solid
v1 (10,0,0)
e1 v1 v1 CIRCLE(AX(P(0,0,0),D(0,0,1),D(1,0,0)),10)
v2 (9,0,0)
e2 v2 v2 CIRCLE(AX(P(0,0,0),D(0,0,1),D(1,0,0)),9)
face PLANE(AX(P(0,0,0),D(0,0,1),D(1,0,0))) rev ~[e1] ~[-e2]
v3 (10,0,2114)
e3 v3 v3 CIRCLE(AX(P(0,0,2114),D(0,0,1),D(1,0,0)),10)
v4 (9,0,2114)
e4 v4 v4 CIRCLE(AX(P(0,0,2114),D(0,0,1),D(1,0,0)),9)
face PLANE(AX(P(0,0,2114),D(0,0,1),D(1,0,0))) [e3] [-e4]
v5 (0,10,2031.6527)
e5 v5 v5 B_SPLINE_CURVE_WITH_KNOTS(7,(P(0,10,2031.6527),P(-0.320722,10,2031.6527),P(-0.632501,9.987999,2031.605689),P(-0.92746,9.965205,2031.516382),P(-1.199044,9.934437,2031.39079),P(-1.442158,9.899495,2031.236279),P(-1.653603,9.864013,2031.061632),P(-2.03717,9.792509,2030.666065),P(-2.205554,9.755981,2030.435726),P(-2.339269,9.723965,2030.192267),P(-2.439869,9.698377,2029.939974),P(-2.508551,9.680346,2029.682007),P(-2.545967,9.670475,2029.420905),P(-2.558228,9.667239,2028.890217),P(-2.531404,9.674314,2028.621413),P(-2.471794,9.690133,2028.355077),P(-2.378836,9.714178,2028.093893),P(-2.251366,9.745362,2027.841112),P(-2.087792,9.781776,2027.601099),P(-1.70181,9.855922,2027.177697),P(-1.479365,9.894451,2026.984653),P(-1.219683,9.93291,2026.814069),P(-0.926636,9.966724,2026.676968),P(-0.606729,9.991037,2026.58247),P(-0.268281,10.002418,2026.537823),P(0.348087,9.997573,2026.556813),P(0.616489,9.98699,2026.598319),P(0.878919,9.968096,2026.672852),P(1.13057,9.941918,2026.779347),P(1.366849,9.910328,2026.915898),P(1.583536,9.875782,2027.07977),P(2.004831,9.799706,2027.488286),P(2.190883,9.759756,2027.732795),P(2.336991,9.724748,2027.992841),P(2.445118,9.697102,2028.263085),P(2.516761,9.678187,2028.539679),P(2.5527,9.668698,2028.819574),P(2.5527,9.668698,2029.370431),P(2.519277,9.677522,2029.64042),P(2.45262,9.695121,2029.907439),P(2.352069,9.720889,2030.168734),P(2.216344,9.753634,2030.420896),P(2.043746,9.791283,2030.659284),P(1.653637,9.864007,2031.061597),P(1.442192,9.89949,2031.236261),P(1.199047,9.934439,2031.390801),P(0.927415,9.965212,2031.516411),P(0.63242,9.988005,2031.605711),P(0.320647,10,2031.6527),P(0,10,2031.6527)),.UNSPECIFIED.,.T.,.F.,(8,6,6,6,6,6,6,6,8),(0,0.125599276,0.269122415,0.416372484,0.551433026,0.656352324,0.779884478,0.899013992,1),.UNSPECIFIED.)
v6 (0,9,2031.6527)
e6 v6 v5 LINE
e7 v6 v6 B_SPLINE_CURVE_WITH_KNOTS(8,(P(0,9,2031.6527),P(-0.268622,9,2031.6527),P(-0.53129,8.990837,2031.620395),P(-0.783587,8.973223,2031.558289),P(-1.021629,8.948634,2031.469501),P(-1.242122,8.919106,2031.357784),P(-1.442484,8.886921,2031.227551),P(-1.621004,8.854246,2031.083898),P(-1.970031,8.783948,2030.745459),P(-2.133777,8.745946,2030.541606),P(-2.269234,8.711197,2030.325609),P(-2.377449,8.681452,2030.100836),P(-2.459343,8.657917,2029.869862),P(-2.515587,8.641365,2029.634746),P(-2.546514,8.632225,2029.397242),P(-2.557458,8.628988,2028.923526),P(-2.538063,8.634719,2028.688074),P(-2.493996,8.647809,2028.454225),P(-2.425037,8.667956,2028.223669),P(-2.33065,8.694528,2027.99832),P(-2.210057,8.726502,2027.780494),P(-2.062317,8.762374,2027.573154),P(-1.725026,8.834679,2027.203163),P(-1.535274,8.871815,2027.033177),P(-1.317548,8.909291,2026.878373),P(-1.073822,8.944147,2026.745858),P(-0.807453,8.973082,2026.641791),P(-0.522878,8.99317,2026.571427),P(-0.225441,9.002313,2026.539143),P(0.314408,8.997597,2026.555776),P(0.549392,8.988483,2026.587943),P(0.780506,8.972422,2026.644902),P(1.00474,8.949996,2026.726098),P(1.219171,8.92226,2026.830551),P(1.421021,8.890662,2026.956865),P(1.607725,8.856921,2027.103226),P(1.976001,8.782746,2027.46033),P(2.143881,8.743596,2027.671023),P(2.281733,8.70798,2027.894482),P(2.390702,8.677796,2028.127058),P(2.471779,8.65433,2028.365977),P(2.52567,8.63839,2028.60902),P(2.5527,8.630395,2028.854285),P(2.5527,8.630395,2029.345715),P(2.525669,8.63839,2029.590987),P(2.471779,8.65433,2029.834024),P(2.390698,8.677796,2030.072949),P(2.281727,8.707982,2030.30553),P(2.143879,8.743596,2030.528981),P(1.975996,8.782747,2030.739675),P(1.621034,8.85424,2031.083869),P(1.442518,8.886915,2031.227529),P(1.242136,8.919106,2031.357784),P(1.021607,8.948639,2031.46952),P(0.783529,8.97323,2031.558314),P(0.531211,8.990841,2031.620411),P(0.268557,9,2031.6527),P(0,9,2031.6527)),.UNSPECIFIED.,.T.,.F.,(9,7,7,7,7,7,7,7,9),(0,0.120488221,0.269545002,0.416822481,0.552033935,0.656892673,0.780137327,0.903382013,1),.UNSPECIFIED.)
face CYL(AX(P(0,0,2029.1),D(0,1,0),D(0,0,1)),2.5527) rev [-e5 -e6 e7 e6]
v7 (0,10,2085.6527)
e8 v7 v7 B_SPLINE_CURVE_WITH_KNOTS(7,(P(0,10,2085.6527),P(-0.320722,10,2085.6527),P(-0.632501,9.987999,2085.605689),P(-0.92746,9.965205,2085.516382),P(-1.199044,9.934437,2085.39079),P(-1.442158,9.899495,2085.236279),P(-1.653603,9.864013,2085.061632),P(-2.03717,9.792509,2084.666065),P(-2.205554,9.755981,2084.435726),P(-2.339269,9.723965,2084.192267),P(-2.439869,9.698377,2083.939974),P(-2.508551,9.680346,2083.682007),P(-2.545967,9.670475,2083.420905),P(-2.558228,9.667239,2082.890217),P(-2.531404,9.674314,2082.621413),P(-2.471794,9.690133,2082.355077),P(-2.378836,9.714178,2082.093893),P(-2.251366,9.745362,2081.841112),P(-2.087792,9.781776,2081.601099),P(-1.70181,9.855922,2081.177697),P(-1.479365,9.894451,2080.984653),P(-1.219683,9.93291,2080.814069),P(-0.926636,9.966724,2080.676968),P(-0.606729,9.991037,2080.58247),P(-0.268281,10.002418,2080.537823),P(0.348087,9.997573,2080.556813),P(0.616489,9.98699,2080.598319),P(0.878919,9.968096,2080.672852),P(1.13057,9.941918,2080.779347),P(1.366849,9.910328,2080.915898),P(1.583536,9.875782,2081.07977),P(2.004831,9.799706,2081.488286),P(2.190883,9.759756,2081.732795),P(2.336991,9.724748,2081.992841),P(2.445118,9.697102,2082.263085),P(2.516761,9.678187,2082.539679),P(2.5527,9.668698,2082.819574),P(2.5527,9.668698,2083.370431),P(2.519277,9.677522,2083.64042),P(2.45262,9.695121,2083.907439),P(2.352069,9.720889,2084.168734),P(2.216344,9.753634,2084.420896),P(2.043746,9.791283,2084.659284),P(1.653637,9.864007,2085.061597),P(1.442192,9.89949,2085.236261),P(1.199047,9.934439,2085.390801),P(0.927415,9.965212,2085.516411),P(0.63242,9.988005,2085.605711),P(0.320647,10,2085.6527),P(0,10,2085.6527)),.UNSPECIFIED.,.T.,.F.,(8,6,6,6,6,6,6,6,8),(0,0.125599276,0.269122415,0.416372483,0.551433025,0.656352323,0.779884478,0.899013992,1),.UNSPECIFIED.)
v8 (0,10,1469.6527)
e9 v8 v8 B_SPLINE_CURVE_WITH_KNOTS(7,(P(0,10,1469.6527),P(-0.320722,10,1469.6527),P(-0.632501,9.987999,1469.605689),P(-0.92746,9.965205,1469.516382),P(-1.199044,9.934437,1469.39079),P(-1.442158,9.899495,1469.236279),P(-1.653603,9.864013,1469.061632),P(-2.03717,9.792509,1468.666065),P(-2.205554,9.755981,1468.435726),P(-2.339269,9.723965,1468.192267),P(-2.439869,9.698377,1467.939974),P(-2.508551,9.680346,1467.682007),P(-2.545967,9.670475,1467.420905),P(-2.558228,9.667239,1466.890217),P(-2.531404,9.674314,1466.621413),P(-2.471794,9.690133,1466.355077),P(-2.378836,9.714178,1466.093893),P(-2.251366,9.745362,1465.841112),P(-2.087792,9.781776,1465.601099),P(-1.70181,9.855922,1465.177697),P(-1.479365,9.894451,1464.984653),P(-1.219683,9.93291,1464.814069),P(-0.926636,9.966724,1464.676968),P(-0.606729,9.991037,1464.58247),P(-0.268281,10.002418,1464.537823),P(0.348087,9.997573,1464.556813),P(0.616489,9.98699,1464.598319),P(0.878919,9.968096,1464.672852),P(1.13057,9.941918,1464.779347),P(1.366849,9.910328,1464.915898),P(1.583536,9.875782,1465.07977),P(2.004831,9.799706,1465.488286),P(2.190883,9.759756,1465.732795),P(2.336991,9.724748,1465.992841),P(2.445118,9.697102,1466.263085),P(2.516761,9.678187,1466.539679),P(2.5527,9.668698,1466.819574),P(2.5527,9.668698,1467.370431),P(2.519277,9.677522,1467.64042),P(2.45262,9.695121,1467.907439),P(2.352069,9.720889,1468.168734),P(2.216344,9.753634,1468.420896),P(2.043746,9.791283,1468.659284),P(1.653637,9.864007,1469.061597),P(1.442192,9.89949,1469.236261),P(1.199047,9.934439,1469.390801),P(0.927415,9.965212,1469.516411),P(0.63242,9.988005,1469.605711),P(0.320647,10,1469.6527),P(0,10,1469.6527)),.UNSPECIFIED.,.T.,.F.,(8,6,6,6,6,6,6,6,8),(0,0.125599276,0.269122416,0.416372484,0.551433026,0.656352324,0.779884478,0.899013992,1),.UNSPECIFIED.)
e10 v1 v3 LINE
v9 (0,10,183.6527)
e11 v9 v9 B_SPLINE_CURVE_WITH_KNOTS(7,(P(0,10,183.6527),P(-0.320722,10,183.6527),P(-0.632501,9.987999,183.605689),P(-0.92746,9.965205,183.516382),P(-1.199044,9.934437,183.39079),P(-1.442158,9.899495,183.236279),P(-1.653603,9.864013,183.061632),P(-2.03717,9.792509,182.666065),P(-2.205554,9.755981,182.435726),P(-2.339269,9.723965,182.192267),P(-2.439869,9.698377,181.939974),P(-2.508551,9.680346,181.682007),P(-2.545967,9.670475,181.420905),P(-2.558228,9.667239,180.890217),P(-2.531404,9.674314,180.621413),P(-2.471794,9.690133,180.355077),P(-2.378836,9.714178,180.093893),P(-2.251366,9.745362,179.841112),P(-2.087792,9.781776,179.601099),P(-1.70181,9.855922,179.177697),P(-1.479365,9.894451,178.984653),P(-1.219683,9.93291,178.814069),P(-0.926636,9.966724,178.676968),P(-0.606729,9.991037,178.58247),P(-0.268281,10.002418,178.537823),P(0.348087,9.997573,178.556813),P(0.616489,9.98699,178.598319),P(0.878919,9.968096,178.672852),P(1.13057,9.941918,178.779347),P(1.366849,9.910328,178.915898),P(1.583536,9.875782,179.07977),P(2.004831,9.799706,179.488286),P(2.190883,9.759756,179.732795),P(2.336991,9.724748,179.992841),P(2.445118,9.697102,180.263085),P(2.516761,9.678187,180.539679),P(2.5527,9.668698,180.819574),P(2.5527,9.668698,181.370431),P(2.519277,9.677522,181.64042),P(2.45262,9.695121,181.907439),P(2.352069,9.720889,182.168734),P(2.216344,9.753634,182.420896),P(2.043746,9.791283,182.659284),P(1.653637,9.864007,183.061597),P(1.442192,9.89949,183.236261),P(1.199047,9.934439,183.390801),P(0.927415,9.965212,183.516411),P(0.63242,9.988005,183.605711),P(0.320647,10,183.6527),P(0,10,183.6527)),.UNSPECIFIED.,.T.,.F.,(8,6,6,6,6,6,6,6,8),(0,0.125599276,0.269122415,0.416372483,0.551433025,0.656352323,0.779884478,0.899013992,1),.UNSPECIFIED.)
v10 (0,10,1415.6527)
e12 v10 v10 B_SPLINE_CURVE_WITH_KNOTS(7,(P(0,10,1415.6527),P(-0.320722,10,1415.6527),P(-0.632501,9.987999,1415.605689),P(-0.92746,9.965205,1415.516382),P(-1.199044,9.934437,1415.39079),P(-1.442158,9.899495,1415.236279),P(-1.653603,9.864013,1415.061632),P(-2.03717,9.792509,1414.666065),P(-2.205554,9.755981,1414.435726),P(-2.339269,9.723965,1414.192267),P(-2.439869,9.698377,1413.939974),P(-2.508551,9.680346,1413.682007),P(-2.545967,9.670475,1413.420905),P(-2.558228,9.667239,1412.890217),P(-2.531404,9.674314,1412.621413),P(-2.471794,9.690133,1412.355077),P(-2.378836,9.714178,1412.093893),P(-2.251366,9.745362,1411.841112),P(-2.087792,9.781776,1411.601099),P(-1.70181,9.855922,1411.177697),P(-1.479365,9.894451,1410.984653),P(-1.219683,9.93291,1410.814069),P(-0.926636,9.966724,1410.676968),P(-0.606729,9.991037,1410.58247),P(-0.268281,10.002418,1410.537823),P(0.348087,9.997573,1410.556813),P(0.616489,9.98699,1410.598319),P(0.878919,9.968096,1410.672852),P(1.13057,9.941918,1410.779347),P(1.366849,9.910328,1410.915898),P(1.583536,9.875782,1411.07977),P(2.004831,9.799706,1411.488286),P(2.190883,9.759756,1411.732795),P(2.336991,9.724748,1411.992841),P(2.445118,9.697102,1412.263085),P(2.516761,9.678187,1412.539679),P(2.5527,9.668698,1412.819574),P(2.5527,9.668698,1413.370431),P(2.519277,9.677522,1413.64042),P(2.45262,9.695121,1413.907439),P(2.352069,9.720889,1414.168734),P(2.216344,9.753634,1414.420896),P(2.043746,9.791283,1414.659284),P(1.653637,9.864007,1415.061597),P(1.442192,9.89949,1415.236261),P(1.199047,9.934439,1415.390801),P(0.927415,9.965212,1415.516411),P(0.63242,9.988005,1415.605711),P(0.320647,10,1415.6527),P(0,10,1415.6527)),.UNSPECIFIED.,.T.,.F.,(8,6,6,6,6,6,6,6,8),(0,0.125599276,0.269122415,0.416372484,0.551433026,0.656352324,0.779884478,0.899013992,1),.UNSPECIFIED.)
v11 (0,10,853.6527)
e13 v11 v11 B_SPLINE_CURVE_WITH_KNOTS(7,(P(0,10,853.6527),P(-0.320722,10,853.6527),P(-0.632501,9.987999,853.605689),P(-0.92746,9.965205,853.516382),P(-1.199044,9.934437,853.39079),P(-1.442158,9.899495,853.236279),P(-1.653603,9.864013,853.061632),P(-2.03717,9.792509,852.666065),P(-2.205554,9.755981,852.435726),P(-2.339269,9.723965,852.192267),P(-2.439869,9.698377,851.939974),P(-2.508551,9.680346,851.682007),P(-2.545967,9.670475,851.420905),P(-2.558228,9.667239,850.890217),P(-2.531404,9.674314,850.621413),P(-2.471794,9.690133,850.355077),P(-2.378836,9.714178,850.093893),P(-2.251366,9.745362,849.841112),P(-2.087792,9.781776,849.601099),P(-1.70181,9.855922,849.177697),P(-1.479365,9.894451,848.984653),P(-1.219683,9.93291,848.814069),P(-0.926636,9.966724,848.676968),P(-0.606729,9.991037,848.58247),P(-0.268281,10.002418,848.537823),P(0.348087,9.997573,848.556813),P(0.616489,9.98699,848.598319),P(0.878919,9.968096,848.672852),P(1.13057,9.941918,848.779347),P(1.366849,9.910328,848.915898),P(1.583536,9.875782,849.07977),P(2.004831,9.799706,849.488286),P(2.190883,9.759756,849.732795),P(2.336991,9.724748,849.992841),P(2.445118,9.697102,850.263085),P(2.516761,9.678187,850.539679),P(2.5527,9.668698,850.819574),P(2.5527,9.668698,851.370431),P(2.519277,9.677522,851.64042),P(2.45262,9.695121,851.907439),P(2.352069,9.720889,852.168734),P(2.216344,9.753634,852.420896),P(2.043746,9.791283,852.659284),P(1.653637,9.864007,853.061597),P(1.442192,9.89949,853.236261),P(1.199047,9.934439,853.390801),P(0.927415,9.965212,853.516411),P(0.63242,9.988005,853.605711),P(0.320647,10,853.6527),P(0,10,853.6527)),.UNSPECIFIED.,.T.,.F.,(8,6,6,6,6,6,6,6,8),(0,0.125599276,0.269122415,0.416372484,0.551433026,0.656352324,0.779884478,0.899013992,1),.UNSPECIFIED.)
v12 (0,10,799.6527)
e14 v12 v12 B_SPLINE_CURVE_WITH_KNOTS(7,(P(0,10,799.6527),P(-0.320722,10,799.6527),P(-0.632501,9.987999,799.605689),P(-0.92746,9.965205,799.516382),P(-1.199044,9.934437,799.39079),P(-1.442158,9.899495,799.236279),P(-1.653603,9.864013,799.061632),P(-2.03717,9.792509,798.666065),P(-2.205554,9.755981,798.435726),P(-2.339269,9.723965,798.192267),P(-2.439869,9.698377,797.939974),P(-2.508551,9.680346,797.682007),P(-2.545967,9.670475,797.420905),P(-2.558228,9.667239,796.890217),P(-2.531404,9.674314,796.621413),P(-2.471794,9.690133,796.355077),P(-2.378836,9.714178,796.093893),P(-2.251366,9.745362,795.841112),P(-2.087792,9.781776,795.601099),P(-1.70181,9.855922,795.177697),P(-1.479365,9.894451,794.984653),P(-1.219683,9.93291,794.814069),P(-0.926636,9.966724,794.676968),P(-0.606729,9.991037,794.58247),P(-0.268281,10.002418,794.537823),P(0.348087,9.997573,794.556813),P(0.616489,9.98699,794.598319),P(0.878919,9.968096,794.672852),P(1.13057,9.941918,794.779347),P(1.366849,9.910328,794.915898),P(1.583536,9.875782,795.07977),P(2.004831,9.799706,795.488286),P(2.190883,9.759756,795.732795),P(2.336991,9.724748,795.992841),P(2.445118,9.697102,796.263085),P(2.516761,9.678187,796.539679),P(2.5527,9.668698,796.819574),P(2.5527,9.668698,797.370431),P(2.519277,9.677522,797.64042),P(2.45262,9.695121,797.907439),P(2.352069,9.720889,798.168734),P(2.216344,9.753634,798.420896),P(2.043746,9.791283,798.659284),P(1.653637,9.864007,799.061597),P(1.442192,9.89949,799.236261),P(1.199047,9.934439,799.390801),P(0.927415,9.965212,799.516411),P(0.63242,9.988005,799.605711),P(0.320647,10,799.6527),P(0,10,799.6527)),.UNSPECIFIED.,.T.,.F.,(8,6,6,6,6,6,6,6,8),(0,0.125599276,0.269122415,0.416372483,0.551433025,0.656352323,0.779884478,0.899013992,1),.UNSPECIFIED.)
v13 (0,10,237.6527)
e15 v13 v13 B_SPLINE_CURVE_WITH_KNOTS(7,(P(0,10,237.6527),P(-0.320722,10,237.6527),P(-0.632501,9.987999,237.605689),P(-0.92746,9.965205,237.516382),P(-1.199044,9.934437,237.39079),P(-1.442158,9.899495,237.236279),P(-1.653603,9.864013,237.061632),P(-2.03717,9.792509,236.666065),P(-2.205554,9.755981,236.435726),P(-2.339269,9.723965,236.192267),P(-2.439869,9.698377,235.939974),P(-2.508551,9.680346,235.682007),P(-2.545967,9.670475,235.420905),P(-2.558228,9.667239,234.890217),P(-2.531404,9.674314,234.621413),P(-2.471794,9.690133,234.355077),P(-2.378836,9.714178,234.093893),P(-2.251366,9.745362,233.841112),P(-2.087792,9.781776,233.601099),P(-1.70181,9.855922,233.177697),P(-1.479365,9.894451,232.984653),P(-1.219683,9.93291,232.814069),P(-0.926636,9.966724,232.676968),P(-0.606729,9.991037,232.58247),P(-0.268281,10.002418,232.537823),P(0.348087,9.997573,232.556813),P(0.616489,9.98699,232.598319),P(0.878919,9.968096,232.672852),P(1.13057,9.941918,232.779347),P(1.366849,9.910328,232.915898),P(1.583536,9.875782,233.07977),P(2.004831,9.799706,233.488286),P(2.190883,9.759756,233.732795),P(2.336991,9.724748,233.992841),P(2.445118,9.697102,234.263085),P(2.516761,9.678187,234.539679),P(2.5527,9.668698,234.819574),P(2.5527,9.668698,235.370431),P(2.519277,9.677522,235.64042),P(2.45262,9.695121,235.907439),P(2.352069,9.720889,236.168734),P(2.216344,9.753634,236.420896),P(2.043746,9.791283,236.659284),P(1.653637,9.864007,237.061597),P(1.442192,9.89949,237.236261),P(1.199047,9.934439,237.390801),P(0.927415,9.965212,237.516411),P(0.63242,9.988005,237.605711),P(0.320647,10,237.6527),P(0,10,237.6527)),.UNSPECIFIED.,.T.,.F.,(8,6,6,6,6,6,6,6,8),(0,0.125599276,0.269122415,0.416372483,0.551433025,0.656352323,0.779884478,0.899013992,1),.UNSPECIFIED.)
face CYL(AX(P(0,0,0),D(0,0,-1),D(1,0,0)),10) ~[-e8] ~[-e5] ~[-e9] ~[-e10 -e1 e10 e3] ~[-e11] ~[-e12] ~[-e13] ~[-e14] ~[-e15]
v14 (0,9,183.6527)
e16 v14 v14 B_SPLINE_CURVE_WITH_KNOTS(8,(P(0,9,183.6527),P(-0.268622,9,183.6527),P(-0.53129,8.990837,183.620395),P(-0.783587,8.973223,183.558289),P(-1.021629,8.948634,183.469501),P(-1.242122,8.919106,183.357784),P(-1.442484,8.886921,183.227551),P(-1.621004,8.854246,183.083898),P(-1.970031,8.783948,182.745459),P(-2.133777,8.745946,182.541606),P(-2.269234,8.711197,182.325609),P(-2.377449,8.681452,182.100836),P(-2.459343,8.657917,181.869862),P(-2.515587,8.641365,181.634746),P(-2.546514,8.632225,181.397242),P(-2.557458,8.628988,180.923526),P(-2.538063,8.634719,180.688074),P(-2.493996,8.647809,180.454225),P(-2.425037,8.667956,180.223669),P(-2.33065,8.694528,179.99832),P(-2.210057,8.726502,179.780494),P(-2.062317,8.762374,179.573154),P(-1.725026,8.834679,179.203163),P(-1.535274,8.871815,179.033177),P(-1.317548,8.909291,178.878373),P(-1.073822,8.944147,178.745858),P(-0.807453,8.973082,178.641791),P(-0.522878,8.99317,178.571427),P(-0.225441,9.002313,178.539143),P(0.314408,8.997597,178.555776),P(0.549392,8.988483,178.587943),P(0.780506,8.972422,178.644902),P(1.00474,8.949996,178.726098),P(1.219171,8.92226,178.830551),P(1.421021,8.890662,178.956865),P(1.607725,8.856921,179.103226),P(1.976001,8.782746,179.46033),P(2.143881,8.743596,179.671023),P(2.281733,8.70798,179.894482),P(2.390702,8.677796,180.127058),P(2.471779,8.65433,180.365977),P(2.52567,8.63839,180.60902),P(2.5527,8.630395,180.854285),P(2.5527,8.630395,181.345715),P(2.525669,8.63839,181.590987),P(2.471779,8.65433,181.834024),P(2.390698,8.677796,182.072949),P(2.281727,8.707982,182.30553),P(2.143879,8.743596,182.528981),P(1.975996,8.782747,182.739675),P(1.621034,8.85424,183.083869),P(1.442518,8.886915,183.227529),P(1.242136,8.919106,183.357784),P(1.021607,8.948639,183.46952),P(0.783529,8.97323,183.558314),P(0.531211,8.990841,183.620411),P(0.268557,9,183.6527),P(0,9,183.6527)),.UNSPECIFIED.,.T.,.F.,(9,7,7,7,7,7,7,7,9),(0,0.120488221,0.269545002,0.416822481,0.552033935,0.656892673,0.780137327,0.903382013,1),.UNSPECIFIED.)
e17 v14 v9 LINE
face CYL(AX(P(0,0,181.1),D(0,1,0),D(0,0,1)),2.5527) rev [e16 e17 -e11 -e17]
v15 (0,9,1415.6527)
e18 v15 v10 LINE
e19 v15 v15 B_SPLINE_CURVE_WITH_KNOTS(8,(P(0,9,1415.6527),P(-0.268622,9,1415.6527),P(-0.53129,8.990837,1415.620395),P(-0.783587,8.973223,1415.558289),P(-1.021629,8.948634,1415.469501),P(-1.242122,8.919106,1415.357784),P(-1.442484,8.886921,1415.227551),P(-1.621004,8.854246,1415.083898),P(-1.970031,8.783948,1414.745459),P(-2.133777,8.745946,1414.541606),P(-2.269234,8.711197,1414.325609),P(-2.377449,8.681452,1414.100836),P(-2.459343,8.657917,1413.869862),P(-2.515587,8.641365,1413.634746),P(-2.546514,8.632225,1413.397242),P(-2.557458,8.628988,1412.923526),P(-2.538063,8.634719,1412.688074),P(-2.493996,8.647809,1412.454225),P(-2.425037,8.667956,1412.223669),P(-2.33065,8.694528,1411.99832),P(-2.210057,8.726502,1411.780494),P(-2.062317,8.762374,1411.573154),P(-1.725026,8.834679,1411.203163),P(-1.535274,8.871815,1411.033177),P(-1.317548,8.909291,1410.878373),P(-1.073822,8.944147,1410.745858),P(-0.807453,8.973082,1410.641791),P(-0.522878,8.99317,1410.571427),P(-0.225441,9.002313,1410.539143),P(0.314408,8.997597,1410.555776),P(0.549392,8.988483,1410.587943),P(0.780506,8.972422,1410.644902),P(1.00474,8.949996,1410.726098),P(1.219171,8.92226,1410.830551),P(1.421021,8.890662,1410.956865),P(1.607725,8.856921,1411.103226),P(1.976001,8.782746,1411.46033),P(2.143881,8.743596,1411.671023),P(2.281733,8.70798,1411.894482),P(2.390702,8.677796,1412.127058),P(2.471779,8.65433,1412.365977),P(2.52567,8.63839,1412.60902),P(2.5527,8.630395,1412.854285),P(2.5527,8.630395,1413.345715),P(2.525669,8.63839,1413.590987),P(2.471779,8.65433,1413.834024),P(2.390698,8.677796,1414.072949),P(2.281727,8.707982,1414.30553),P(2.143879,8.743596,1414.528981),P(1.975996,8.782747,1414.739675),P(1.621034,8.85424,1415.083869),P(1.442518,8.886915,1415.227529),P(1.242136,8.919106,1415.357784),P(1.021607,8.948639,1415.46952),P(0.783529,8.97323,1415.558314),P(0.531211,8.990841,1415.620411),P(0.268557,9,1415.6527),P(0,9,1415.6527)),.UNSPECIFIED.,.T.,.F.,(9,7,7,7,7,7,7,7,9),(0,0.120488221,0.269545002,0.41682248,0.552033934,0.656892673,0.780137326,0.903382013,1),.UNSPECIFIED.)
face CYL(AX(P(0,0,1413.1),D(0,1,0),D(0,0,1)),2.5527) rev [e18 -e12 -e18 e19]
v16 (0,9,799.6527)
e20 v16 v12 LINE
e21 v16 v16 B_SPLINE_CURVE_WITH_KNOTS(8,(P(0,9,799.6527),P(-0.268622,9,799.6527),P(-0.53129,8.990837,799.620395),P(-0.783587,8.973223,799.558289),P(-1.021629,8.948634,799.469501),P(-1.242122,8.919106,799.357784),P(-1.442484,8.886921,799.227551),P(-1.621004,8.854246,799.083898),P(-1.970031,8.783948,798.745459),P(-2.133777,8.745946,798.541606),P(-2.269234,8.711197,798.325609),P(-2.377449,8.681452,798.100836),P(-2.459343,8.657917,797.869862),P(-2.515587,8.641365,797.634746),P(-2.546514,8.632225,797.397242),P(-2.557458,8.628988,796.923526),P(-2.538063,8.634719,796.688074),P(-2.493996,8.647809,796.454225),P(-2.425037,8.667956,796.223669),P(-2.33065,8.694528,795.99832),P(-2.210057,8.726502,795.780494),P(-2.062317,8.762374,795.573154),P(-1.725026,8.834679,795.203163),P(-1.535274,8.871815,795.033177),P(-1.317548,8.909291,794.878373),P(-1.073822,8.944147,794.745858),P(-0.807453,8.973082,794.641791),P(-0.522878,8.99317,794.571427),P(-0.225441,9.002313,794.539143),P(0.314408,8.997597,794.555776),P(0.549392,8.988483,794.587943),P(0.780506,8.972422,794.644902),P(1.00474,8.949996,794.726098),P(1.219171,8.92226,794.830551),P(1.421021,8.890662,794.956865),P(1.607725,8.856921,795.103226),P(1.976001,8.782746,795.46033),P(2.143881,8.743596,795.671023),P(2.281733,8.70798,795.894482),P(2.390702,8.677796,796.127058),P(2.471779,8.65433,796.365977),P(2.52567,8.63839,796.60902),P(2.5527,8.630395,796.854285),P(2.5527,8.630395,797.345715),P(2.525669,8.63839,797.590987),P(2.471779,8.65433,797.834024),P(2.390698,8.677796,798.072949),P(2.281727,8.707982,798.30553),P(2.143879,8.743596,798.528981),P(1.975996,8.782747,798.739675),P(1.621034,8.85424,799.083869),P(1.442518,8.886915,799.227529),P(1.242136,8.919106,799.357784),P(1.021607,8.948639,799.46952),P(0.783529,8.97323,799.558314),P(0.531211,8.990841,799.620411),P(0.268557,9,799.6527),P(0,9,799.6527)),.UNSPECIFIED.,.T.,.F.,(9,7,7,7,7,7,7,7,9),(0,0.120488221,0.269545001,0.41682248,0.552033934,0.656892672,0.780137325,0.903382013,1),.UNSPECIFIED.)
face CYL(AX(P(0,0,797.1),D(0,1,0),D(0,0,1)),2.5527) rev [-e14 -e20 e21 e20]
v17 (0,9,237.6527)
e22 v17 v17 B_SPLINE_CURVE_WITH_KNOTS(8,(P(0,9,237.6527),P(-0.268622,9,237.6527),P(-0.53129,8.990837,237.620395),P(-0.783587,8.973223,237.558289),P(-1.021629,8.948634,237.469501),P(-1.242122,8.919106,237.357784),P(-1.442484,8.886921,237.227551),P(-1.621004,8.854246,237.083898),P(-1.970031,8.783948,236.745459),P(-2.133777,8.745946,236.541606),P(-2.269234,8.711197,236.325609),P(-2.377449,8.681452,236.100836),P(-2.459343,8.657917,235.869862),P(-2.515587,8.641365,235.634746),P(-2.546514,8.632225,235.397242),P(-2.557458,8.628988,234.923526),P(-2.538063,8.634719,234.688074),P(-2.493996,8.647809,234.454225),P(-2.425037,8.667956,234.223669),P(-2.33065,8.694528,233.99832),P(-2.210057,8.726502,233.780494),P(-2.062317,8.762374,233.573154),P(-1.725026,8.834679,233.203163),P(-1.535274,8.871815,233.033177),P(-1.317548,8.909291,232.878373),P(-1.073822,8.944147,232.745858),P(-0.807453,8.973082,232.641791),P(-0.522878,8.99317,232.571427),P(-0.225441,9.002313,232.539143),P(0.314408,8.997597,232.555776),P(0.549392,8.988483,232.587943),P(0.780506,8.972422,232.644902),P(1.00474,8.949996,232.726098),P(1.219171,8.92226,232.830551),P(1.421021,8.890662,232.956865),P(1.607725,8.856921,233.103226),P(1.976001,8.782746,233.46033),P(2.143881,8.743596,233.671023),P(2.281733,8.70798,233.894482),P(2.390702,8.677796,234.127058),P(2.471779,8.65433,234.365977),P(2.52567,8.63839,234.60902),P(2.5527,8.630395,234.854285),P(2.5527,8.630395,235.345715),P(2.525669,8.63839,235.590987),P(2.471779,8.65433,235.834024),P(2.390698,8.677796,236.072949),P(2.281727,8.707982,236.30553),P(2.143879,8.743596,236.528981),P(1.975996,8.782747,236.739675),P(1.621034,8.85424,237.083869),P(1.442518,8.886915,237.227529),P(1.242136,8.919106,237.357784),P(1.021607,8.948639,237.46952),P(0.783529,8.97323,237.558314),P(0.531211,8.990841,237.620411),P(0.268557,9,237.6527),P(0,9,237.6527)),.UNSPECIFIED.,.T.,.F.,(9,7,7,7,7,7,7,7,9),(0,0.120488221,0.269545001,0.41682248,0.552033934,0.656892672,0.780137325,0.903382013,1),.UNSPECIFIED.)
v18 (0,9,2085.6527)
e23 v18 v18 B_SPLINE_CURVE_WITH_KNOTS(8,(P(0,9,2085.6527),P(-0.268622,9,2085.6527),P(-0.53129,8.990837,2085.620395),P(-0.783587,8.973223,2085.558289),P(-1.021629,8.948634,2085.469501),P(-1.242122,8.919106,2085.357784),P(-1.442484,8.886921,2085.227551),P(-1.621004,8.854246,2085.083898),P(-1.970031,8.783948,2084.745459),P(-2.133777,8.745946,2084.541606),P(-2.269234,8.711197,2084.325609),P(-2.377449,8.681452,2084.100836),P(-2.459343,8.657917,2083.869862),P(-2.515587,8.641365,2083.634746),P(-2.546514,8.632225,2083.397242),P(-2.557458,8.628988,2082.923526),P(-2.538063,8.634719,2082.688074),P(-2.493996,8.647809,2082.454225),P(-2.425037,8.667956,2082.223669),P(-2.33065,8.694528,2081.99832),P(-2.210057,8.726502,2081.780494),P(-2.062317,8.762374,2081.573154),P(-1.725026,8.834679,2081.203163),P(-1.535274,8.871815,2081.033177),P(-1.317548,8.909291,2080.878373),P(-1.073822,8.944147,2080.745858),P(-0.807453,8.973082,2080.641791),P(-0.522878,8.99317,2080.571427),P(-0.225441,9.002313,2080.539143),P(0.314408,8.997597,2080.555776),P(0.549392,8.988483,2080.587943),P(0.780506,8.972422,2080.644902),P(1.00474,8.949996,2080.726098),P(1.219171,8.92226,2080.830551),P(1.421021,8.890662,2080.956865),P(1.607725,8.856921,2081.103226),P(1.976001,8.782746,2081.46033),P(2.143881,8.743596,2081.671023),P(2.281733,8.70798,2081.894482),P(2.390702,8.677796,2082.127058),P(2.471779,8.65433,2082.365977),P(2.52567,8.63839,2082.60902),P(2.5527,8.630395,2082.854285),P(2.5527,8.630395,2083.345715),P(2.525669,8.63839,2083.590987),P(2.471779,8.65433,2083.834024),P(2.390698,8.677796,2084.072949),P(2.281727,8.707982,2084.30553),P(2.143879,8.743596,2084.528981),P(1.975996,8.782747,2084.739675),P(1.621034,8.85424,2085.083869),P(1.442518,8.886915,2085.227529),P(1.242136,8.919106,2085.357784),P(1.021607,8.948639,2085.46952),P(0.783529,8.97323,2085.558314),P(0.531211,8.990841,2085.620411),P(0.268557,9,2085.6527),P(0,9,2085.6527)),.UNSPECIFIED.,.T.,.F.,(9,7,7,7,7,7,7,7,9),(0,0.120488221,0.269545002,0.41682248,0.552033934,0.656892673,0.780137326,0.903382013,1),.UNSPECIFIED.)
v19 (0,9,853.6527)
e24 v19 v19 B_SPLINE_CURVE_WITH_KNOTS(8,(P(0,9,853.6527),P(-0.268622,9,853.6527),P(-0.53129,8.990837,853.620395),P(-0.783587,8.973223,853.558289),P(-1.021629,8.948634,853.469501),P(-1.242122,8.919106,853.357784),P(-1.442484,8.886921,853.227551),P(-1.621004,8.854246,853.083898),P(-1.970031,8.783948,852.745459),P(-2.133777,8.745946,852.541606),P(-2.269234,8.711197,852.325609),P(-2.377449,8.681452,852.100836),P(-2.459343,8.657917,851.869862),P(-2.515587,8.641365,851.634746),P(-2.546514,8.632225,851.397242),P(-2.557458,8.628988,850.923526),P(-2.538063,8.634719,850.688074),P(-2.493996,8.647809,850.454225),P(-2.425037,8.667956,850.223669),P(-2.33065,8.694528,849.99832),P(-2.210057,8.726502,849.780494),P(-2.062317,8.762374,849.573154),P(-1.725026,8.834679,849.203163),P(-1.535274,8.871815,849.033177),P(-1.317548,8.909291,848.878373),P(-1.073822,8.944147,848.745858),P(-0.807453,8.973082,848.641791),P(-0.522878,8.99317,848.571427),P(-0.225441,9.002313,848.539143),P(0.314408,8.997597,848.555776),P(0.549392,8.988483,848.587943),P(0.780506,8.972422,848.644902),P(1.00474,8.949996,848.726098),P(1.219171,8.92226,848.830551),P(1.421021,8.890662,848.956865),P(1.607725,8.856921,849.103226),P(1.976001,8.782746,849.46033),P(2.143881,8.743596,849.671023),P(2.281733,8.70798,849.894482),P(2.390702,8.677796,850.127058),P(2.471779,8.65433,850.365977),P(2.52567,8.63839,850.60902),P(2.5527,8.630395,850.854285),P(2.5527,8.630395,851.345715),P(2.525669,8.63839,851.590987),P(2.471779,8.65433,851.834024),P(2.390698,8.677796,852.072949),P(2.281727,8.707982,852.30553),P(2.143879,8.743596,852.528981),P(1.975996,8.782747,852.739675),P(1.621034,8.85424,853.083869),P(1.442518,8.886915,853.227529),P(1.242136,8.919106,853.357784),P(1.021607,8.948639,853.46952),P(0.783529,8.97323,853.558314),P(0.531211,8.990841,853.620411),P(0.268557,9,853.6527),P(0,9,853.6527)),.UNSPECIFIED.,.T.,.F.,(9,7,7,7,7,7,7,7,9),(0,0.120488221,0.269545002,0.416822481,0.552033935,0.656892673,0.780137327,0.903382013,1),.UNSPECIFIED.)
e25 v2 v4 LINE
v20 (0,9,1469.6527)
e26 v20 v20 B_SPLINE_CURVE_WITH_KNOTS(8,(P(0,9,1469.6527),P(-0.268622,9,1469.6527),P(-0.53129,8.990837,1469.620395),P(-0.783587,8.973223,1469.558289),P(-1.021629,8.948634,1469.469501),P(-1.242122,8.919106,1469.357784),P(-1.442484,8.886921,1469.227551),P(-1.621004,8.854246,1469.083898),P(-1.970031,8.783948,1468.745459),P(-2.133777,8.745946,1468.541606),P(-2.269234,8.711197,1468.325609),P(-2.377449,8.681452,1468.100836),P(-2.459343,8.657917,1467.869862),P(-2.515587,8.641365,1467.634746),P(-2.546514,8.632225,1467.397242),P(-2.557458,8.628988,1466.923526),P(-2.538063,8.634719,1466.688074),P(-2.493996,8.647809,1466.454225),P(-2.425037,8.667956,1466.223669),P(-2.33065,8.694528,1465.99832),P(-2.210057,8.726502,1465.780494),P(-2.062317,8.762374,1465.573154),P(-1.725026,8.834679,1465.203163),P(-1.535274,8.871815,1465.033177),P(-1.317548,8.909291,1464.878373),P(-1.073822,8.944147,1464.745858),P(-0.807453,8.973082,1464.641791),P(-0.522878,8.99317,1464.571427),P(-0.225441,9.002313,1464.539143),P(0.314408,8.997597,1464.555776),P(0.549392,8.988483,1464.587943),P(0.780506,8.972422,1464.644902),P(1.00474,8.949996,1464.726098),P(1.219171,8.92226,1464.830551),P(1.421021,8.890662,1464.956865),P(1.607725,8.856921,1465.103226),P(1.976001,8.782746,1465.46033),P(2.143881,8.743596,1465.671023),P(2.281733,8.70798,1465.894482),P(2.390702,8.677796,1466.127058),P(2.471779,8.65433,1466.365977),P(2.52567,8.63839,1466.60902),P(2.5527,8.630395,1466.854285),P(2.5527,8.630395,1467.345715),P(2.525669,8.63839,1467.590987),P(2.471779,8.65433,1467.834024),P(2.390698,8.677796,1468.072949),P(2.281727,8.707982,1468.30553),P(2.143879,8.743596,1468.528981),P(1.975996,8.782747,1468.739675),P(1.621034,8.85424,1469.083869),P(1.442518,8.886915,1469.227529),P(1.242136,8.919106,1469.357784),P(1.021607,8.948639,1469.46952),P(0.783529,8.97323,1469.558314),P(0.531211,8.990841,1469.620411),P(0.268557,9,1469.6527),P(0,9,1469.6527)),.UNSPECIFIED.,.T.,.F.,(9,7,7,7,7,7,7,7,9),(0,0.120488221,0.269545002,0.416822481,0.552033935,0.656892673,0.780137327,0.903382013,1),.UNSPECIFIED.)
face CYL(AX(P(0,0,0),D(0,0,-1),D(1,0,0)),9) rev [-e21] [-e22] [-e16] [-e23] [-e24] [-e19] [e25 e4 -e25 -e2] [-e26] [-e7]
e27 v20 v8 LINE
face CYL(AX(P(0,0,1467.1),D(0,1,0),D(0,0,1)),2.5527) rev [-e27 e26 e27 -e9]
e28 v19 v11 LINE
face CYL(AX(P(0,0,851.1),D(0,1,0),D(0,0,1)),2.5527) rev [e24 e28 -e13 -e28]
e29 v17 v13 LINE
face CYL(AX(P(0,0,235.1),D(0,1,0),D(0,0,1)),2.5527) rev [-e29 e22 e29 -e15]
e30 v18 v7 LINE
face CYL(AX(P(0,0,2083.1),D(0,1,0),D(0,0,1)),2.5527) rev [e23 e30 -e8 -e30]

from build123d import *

# Parameters (mm, degrees)
SKETCH1_R                       = 10
SKETCH1_R_2                     = 9
EXTRUDE_THIN1_DEPTH             = 2114
F_10_CLEARANCE_HOLE1_AT_2_COUNT = 2
F_10_CLEARANCE_HOLE1_AT_2_PITCH = 54
LPATTERN1_COUNT                 = 4
LPATTERN1_PITCH                 = 616


with BuildPart() as part:
    # Sketch1 → Extrude-Thin1 (new body)
    with BuildSketch(Plane.XY):
        Circle(SKETCH1_R)
        Circle(SKETCH1_R_2, mode=Mode.SUBTRACT)
    extrude(amount=EXTRUDE_THIN1_DEPTH)

    # Sketch4 → #10 Clearance Hole1 (revolve, cut)
    with BuildSketch(Plane(origin=(0, 10, 181.1), x_dir=(0, 0, 1), z_dir=(1, 0, 0))):
        Polygon((0, 0), (0, 11.533816902), (2.5527, 10), (2.5527, 0), align=None)
    f_10_clearance_hole1 = revolve(axis=Axis((0, 16.35, 181.1), (0, -1, 0)), mode=Mode.SUBTRACT)

    # #10 Clearance Hole1 at 2: #10 Clearance Hole1 ×2
    with Locations(*[(0, 0, i * F_10_CLEARANCE_HOLE1_AT_2_PITCH) for i in range(1, F_10_CLEARANCE_HOLE1_AT_2_COUNT)]):
        add(f_10_clearance_hole1, mode=Mode.SUBTRACT)

    # LPattern1: #10 Clearance Hole1 ×4
    with Locations(*[(0, 0, i * LPATTERN1_PITCH) for i in range(1, LPATTERN1_COUNT)]):
        add(f_10_clearance_hole1, mode=Mode.SUBTRACT)

    # LPattern1 copy 1 sketch → LPattern1 copy 1 (revolve, cut)
    with BuildSketch(Plane(origin=(0, 10, 851.1), x_dir=(0, 0, 1), z_dir=(1, 0, 0))):
        Polygon((0, 0), (0, 11.533816902), (2.5527, 10), (2.5527, 0), align=None)
    revolve(axis=Axis((0, 16.35, 851.1), (0, -1, 0)), mode=Mode.SUBTRACT)

    # LPattern1 copy 2 sketch → LPattern1 copy 2 (revolve, cut)
    with BuildSketch(Plane(origin=(0, 10, 1467.1), x_dir=(0, 0, 1), z_dir=(1, 0, 0))):
        Polygon((0, 0), (0, 11.533816902), (2.5527, 10), (2.5527, 0), align=None)
    revolve(axis=Axis((0, 16.35, 1467.1), (0, -1, 0)), mode=Mode.SUBTRACT)

    # LPattern1 copy 3 sketch → LPattern1 copy 3 (revolve, cut)
    with BuildSketch(Plane(origin=(0, 10, 2083.1), x_dir=(0, 0, 1), z_dir=(1, 0, 0))):
        Polygon((0, 0), (0, 11.533816902), (2.5527, 10), (2.5527, 0), align=None)
    revolve(axis=Axis((0, 16.35, 2083.1), (0, -1, 0)), mode=Mode.SUBTRACT)


solid = part.part
